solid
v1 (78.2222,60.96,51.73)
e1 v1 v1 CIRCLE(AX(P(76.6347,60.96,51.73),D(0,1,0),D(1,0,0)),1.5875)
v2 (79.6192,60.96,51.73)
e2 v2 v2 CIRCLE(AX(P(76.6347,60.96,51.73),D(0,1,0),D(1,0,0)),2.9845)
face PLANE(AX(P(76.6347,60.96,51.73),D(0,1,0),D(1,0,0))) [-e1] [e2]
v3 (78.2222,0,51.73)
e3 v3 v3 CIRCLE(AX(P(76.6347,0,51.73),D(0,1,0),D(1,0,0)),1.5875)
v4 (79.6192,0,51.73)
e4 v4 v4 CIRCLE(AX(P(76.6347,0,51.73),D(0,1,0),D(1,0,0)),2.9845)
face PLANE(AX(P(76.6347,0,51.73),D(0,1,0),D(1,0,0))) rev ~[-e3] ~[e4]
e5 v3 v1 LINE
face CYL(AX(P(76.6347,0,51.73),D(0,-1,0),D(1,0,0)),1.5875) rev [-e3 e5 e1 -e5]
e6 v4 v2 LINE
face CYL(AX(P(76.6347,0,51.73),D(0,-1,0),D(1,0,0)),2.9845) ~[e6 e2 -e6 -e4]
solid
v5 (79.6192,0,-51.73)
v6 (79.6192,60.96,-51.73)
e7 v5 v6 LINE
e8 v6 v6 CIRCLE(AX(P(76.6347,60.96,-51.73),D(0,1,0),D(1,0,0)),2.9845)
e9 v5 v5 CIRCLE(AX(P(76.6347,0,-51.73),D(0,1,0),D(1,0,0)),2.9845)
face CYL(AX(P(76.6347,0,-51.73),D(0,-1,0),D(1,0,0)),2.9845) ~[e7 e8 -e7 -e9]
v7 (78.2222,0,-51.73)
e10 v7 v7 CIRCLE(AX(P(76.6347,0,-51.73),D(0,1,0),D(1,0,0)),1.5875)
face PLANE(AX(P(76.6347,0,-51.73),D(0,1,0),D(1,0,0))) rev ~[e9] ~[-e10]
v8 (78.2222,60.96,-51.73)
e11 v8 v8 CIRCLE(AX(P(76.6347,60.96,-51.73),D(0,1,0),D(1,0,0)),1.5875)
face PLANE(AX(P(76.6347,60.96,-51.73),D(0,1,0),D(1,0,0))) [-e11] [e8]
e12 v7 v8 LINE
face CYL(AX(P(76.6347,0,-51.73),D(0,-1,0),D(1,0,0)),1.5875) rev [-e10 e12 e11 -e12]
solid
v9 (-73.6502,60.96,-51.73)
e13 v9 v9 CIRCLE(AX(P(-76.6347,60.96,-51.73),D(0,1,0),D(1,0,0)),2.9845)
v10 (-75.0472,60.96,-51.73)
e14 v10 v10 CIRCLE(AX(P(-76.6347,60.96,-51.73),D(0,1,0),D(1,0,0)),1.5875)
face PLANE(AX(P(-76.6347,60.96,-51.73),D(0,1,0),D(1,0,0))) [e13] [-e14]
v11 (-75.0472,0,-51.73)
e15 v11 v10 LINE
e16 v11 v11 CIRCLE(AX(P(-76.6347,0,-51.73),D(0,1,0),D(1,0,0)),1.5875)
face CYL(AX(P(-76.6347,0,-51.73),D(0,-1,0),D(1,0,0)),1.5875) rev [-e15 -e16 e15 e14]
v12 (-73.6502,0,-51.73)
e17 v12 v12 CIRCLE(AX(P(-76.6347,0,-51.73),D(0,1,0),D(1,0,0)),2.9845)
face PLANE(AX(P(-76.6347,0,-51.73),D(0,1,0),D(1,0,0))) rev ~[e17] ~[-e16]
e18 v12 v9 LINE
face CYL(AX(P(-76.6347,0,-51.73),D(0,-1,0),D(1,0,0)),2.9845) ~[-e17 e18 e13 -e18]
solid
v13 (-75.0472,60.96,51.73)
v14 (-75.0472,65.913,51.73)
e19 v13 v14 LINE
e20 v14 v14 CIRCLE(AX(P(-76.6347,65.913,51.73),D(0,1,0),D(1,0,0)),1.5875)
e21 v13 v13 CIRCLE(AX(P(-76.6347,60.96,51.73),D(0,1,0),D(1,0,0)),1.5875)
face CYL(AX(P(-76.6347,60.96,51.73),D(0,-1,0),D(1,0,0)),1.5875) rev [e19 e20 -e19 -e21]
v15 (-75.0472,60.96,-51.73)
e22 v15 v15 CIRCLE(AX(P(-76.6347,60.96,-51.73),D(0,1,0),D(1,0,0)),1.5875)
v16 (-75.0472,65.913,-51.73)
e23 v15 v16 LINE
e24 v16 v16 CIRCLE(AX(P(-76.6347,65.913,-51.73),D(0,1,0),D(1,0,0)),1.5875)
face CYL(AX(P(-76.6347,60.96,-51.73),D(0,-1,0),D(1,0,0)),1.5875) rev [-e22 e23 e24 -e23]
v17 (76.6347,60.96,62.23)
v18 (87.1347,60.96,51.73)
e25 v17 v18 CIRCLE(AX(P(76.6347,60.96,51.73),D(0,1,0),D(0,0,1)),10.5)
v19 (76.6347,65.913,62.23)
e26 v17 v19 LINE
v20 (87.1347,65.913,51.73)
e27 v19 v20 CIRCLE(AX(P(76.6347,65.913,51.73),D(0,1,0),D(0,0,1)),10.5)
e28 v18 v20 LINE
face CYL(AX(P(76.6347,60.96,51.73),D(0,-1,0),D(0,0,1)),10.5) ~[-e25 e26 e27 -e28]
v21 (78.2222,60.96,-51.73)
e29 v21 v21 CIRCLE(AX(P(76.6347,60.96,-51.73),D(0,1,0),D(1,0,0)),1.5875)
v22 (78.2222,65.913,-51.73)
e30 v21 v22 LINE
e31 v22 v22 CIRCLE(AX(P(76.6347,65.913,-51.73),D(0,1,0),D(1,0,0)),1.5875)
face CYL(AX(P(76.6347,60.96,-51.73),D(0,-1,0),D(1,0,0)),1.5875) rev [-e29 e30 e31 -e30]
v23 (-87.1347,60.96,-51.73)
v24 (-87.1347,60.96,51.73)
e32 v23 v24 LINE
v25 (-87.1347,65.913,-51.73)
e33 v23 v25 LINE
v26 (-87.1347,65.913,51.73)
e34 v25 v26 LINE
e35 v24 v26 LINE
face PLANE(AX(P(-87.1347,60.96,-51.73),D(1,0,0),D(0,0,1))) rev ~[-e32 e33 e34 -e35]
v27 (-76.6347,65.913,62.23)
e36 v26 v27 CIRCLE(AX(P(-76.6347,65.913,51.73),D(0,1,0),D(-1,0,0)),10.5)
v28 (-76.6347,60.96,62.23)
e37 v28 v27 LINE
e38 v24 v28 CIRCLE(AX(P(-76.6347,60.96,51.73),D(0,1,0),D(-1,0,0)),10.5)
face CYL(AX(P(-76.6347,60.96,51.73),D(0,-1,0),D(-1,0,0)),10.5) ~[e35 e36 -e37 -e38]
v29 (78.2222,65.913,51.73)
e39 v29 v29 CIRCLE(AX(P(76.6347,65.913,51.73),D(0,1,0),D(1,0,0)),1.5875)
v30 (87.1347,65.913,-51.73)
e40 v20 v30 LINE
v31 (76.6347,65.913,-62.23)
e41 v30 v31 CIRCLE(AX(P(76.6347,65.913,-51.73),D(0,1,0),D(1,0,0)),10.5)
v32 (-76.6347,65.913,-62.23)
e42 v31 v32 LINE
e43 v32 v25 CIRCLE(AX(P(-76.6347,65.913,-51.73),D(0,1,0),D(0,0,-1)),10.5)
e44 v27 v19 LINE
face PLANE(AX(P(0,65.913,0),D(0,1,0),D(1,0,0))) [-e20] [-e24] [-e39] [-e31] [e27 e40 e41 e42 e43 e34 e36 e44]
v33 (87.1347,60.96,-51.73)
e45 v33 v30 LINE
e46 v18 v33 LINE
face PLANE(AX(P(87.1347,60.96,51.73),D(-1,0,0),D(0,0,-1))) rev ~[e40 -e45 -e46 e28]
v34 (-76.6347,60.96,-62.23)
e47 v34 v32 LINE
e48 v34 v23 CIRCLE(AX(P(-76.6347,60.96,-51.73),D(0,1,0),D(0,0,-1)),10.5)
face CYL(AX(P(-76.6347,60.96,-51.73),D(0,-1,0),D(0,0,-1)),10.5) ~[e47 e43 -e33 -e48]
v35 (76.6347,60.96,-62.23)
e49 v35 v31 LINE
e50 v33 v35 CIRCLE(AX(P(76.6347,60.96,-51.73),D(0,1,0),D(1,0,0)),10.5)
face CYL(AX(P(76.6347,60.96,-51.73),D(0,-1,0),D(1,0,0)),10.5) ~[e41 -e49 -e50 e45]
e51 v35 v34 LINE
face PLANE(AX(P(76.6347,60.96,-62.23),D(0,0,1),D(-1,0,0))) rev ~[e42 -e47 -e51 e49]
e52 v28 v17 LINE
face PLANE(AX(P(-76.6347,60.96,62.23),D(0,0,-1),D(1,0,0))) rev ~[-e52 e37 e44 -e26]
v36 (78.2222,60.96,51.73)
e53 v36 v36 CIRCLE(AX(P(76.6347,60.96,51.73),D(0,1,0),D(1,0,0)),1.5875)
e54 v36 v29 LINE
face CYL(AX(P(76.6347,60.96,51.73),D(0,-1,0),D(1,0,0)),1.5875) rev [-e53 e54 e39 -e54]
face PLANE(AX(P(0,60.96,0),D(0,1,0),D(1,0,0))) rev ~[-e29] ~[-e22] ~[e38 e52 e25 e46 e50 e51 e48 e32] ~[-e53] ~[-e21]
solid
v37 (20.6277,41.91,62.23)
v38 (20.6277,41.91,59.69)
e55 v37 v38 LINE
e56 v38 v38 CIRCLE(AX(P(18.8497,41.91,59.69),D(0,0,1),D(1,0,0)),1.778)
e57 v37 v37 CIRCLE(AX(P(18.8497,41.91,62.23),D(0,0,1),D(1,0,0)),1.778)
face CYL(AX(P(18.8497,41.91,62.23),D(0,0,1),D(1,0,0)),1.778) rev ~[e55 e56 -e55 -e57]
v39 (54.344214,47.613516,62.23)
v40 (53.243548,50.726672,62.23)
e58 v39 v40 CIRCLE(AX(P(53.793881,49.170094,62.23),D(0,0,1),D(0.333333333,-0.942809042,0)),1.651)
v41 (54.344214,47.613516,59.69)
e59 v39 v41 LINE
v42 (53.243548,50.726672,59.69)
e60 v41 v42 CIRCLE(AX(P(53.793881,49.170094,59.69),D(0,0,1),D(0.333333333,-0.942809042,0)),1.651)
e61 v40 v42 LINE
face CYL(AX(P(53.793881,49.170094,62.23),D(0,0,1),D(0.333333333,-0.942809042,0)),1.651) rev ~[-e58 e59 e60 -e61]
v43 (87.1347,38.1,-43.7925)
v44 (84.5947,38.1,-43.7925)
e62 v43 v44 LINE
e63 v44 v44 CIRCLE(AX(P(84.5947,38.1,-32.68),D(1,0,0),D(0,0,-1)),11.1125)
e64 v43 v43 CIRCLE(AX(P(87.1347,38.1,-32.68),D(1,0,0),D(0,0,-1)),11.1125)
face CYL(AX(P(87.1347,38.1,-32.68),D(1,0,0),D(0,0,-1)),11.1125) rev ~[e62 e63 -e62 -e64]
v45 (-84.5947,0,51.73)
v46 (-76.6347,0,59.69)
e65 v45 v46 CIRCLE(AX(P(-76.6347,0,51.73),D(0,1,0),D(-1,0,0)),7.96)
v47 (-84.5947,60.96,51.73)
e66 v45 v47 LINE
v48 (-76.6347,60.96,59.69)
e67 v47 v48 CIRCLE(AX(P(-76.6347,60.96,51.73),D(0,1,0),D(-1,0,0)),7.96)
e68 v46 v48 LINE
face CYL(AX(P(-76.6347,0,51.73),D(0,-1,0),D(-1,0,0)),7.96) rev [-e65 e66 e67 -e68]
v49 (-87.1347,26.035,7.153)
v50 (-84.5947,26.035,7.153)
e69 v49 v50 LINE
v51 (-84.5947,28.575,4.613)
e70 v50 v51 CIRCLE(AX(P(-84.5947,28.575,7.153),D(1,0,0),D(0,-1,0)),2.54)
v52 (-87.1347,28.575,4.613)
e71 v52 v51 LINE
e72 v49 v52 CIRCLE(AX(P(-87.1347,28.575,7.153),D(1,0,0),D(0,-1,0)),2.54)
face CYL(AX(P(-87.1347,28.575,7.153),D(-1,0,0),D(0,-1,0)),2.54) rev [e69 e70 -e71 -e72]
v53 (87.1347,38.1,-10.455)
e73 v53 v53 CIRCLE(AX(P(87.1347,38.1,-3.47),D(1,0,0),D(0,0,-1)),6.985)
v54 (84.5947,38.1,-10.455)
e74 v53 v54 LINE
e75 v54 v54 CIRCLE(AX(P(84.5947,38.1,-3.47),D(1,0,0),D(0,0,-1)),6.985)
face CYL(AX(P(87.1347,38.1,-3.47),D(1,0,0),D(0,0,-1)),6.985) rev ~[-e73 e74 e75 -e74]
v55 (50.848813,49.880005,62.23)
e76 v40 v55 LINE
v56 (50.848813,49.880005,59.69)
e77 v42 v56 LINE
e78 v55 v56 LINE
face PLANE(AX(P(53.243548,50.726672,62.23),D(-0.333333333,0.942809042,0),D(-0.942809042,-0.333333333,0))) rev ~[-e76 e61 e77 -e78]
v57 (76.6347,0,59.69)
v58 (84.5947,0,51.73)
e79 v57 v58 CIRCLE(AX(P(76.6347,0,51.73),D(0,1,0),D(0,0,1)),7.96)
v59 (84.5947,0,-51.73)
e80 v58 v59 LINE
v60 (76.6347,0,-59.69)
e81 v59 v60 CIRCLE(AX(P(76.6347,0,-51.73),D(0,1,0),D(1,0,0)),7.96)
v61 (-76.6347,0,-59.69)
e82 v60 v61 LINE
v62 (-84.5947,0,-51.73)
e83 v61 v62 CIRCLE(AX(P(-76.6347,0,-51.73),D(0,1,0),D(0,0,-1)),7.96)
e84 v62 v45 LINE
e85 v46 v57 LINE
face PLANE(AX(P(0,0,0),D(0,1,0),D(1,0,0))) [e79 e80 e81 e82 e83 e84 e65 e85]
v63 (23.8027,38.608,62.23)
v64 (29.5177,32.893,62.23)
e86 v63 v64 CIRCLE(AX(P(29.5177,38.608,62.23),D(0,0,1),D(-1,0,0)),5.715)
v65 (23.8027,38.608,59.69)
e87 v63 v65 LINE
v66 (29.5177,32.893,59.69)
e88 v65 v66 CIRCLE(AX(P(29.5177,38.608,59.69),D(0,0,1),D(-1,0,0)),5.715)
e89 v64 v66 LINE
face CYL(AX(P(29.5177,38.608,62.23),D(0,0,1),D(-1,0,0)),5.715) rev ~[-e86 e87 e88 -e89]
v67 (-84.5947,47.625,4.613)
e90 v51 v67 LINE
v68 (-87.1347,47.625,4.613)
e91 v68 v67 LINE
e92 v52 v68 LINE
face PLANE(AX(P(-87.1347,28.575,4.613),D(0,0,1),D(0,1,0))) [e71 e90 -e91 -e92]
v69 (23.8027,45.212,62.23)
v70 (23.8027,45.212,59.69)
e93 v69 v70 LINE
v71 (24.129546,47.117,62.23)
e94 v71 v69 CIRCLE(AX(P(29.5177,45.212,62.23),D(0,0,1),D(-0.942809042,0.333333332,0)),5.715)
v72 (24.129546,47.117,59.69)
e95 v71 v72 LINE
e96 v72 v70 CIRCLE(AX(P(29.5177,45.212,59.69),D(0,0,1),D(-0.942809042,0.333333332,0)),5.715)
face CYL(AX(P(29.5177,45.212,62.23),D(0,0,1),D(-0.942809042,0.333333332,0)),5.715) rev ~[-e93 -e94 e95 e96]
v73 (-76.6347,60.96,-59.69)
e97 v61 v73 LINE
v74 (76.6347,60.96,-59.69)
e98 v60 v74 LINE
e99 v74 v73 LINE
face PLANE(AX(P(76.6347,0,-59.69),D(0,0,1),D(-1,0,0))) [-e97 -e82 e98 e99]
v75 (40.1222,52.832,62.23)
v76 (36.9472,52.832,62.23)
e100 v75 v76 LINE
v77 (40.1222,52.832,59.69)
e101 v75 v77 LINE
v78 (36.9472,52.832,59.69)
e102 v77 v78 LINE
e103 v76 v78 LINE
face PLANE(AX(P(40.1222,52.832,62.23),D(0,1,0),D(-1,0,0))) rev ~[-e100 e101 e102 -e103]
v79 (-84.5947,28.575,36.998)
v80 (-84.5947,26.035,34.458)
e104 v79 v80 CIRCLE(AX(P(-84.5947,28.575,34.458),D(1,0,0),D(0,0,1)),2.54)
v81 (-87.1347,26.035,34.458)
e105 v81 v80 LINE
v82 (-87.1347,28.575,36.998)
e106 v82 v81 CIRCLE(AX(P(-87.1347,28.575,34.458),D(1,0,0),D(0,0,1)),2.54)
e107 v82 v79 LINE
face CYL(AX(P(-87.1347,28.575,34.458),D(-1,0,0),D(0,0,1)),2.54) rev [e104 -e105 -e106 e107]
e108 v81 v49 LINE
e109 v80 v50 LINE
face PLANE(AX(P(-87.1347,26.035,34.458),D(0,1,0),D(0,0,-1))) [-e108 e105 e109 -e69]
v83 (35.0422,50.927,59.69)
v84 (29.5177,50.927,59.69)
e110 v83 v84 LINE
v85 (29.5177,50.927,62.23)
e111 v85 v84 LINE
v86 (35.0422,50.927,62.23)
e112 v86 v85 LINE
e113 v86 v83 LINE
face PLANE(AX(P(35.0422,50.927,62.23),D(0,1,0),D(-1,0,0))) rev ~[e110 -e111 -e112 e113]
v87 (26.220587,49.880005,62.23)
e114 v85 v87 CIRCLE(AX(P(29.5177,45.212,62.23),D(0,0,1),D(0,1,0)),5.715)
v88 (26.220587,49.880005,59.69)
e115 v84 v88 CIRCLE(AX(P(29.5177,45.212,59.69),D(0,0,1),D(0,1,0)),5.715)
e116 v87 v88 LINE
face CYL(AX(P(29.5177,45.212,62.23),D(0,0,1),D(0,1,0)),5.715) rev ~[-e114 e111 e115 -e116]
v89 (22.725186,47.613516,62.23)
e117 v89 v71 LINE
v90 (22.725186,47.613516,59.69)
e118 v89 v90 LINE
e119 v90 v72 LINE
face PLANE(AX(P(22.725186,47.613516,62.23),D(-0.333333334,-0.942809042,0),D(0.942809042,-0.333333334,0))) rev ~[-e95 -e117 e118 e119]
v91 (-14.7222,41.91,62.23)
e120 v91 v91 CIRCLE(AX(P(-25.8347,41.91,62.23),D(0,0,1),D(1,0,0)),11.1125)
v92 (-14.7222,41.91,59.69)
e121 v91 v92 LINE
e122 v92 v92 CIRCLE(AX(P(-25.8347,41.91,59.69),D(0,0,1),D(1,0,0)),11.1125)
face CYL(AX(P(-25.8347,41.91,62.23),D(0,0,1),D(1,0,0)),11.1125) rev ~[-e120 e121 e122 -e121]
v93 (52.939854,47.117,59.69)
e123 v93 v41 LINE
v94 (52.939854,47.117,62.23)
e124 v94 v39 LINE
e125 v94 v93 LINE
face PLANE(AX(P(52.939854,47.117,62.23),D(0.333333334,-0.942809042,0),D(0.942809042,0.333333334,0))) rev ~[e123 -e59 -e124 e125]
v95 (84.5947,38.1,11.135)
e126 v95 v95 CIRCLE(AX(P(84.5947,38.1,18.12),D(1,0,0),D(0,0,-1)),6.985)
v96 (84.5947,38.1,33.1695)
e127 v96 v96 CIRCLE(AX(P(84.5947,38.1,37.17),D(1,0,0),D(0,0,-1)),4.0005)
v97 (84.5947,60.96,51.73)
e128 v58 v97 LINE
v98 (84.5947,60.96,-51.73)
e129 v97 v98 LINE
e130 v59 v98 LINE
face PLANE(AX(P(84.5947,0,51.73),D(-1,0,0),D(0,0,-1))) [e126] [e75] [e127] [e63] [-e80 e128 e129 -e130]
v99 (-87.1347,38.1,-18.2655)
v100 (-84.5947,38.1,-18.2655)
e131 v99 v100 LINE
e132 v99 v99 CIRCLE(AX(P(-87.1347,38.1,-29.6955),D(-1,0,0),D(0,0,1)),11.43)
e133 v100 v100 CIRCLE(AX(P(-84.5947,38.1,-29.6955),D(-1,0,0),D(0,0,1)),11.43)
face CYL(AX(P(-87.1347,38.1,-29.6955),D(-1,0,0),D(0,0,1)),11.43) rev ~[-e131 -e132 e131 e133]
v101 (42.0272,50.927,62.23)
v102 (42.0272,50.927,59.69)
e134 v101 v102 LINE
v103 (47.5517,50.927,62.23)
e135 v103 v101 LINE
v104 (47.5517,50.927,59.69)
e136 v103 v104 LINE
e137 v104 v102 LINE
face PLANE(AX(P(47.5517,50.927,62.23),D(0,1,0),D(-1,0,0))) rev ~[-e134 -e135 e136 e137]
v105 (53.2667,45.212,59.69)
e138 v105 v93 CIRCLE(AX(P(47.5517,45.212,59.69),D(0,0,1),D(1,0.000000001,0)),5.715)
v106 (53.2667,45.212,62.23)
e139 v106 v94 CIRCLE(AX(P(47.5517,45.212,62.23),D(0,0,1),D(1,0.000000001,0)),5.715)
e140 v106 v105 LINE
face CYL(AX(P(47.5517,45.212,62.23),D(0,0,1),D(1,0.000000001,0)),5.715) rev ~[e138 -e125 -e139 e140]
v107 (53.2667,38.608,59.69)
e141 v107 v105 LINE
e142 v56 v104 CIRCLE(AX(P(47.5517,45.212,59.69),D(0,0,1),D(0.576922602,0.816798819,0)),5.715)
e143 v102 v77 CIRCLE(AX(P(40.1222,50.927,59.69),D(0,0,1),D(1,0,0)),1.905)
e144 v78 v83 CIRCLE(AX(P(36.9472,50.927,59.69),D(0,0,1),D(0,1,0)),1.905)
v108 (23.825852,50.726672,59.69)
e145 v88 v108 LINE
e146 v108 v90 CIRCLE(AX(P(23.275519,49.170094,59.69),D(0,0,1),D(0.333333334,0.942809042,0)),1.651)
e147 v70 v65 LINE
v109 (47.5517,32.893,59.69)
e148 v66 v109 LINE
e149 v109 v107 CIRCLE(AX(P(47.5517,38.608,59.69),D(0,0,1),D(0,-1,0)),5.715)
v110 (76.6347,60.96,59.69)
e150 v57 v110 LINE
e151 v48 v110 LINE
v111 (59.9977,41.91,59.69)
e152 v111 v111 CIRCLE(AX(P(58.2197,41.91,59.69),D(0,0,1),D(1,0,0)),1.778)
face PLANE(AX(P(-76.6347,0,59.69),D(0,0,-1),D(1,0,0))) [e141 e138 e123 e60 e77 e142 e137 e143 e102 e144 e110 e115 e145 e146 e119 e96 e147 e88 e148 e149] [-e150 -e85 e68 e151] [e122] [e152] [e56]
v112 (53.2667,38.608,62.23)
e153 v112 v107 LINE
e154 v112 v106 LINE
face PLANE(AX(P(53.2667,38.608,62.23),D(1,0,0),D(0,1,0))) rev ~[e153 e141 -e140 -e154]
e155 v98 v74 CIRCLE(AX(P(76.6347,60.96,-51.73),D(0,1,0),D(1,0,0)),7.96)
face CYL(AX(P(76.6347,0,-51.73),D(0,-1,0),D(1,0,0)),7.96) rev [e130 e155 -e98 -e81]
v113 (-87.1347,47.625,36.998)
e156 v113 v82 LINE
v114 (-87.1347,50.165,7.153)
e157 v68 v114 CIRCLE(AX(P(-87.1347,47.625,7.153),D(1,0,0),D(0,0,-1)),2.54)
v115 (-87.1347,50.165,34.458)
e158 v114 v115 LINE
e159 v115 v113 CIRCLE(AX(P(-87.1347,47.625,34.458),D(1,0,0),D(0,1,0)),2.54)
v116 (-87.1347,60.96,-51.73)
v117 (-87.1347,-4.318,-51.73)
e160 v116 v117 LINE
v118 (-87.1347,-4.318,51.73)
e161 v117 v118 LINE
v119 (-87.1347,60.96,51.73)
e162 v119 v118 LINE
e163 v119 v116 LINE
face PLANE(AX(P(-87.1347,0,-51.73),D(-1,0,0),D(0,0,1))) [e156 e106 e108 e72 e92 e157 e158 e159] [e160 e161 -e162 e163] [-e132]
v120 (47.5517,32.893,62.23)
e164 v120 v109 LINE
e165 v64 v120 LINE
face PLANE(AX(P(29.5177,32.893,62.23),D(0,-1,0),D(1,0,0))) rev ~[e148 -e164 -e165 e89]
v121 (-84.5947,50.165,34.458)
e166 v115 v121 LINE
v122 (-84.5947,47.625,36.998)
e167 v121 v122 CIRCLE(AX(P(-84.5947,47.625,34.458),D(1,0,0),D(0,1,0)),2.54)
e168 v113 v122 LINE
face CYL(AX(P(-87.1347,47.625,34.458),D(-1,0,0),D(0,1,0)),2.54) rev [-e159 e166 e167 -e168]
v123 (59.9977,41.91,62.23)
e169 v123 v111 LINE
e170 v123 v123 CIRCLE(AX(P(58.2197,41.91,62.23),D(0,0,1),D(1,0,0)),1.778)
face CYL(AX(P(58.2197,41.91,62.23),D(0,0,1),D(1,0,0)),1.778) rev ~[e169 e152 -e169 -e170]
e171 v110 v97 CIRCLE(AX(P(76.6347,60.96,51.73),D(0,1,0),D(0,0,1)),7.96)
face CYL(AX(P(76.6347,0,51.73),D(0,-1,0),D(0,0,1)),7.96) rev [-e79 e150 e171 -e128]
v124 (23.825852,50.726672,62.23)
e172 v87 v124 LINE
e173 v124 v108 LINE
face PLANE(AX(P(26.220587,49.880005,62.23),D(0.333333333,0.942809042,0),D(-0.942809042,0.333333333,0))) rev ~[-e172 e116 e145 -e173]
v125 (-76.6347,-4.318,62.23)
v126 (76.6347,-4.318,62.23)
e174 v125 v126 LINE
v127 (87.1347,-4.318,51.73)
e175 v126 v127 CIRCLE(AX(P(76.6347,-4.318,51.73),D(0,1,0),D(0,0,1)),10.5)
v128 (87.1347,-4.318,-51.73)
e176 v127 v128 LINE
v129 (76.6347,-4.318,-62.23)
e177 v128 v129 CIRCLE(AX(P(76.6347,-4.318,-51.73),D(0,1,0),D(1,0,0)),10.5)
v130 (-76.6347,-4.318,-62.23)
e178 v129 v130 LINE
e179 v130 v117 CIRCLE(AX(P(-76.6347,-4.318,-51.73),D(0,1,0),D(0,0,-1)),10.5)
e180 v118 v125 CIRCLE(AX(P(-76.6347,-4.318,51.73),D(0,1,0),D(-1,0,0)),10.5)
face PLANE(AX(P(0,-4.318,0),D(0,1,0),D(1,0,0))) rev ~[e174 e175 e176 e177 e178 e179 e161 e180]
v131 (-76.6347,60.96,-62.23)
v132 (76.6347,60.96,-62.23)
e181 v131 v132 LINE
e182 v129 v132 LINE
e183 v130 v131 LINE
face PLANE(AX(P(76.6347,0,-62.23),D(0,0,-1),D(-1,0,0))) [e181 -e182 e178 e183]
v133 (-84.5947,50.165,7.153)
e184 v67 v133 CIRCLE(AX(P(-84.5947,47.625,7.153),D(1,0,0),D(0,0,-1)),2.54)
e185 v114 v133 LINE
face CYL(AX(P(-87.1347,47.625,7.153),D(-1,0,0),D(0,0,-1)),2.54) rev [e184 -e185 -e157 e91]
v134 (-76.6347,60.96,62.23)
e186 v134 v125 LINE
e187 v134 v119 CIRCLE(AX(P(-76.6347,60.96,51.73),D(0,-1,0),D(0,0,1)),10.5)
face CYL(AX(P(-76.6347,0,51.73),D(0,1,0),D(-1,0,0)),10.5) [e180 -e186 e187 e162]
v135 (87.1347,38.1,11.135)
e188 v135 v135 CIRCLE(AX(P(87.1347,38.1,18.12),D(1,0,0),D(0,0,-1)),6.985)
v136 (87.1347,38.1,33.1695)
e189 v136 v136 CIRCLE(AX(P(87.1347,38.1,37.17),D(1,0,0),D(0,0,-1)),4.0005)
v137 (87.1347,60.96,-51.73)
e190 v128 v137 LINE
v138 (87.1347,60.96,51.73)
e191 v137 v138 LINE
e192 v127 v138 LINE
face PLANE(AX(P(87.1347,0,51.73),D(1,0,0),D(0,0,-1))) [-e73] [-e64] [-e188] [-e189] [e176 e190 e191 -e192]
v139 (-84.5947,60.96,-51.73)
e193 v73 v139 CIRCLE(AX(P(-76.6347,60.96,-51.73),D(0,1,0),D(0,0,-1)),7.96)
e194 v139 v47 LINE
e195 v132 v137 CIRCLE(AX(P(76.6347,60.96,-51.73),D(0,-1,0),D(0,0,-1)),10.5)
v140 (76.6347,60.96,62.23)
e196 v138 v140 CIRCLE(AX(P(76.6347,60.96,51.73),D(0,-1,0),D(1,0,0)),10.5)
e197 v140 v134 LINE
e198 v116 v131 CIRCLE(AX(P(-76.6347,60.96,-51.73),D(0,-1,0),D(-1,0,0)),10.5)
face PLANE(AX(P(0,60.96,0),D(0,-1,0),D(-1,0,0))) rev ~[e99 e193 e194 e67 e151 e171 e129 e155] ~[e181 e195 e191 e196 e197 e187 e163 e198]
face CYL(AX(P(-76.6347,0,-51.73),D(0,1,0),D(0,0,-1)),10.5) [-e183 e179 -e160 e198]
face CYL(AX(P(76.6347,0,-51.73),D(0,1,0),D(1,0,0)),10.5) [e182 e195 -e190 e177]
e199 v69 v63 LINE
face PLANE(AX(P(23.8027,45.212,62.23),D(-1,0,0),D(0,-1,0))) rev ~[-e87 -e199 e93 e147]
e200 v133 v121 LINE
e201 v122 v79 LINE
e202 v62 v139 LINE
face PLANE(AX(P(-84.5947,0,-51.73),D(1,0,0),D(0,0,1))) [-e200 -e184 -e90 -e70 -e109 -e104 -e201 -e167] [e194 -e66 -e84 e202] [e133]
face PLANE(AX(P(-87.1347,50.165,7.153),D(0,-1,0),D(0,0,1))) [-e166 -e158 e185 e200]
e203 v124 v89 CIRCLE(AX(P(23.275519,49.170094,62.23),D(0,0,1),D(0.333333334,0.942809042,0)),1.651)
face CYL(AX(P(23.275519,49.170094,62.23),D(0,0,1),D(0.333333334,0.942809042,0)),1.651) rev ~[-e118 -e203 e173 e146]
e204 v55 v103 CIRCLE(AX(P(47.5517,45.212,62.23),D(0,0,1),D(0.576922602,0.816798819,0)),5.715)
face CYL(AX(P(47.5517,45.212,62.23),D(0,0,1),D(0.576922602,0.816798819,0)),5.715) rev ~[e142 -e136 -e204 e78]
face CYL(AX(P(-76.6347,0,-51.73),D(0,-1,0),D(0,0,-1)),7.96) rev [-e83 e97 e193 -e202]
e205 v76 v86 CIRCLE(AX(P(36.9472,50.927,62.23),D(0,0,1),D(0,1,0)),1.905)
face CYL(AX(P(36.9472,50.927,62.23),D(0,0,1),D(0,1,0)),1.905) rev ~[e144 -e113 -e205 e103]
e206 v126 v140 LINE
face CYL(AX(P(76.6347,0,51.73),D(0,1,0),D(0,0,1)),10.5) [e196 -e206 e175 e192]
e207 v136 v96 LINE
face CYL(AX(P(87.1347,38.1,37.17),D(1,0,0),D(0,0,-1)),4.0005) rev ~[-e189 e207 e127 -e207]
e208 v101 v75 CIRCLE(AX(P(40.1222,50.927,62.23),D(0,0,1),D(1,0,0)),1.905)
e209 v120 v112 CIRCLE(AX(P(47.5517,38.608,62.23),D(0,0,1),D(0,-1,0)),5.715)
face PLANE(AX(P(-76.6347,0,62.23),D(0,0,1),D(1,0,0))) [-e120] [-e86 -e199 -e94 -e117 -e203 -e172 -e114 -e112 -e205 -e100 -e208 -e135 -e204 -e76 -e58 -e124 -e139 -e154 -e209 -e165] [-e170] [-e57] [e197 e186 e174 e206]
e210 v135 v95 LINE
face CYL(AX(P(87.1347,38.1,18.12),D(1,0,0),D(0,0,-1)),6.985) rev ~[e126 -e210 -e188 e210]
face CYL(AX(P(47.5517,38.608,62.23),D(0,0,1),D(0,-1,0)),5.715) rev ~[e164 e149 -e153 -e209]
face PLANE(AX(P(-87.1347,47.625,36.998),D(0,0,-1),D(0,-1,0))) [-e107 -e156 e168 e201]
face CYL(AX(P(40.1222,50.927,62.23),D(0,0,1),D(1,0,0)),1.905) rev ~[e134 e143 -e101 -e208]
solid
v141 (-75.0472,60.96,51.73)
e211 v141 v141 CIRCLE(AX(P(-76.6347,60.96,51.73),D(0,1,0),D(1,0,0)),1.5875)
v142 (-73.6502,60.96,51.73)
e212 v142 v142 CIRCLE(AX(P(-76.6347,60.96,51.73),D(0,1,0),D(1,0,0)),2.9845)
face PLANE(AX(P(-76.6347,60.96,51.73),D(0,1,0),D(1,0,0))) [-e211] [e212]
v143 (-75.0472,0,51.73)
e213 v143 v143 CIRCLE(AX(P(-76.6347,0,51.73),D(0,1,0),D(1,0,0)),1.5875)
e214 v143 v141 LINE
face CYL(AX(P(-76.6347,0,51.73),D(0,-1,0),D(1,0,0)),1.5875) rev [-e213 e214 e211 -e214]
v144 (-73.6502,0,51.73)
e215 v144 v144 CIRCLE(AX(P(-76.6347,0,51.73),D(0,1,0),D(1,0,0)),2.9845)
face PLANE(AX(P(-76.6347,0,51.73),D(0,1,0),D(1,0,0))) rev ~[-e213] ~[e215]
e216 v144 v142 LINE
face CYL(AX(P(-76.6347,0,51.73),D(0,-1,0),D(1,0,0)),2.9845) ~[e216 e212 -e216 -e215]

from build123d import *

# Parameters (mm, degrees)
SIDES_DEPTH           = 60.96
SKETCH1_R             = 2.9845
SKETCH1_R_2           = 1.5875
SIDES_2_DEPTH         = 60.96
SIDES_3_DEPTH         = 60.96
SIDES_4_DEPTH         = 60.96
SIDES_5_DEPTH         = 60.96
BOTTOM_DEPTH          = 4.318
SKETCH3_R             = 1.5875
LID_DEPTH             = 4.953
SKETCH4_R             = 11.43
POWER_CUTS_DEPTH      = 2.54
SKETCH5_R             = 11.1125
SKETCH5_R_2           = 1.778
ACCUMULATOR_CUT_DEPTH = 2.54
SKETCH6_R             = 4.0005
SKETCH6_R_2           = 6.985
SKETCH6_R_3           = 11.1125
PANEL_CUTS_DEPTH      = 2.54


with BuildPart() as part:
    # Sketch1 → Sides (new body)
    with BuildSketch(Plane(origin=(0, 0, 0), x_dir=(1, 0, 0), z_dir=(0, 1, 0))):
        with BuildLine():
            Line((-76.6347, 62.23), (76.6347, 62.23))
            ThreePointArc((76.6347, 62.23), (84.059321202, 59.154621202), (87.1347, 51.73))
            Line((87.1347, 51.73), (87.1347, -51.73))
            ThreePointArc((87.1347, -51.73), (84.059321202, -59.154621202), (76.6347, -62.23))
            Line((76.6347, -62.23), (-76.6347, -62.23))
            ThreePointArc((-76.6347, -62.23), (-84.059321202, -59.154621202), (-87.1347, -51.73))
            Line((-87.1347, -51.73), (-87.1347, 51.73))
            ThreePointArc((-87.1347, 51.73), (-84.059321202, 59.154621202), (-76.6347, 62.23))
        make_face()
        with BuildLine():
            ThreePointArc((-76.6347, 59.69), (-82.263269978, 57.358569978), (-84.5947, 51.73))
            Line((-84.5947, 51.73), (-84.5947, -51.73))
            ThreePointArc((-84.5947, -51.73), (-82.263269978, -57.358569978), (-76.6347, -59.69))
            Line((-76.6347, -59.69), (76.6347, -59.69))
            ThreePointArc((76.6347, -59.69), (82.263269978, -57.358569978), (84.5947, -51.73))
            Line((84.5947, -51.73), (84.5947, 51.73))
            ThreePointArc((84.5947, 51.73), (82.263269978, 57.358569978), (76.6347, 59.69))
            Line((76.6347, 59.69), (-76.6347, 59.69))
        make_face(mode=Mode.SUBTRACT)
    extrude(amount=SIDES_DEPTH)

    # Sketch2 → Bottom (add)
    with BuildSketch(Plane(origin=(0, 0, 0), x_dir=(1, 0, 0), z_dir=(0, 1, 0))):
        with BuildLine():
            Line((-76.6347, -62.23), (76.6347, -62.23))
            ThreePointArc((76.6347, -62.23), (84.059321202, -59.154621202), (87.1347, -51.73))
            Line((87.1347, -51.73), (87.1347, 51.73))
            ThreePointArc((87.1347, 51.73), (84.059321202, 59.154621202), (76.6347, 62.23))
            Line((76.6347, 62.23), (-76.6347, 62.23))
            ThreePointArc((-76.6347, 62.23), (-84.059321202, 59.154621202), (-87.1347, 51.73))
            Line((-87.1347, 51.73), (-87.1347, -51.73))
            ThreePointArc((-87.1347, -51.73), (-84.059321202, -59.154621202), (-76.6347, -62.23))
        make_face()
    extrude(amount=-BOTTOM_DEPTH)

    # Sketch4 → Power Cuts (cut)
    with BuildSketch(Plane.ZY.offset(87.1347)):
        with Locations((-29.6955, 38.1)):
            Circle(SKETCH4_R)
        with BuildLine():
            Line((7.153, 50.165), (34.458, 50.165))
            ThreePointArc((34.458, 50.165), (36.254051224, 49.421051224), (36.998, 47.625))
            Line((36.998, 47.625), (36.998, 28.575))
            ThreePointArc((36.998, 28.575), (36.254051224, 26.778948776), (34.458, 26.035))
            Line((34.458, 26.035), (7.153, 26.035))
            ThreePointArc((7.153, 26.035), (5.356948776, 26.778948776), (4.613, 28.575))
            Line((4.613, 28.575), (4.613, 47.625))
            ThreePointArc((4.613, 47.625), (5.356948776, 49.421051224), (7.153, 50.165))
        make_face()
    extrude(amount=-POWER_CUTS_DEPTH, mode=Mode.SUBTRACT)

    # Sketch5 → Accumulator Cut (cut)
    with BuildSketch(Plane.XY.offset(62.23)):
        with Locations((-25.8347, 41.91)):
            Circle(SKETCH5_R)
        with Locations((18.8497, 41.91)):
            Circle(SKETCH5_R_2)
        with Locations((58.2197, 41.91)):
            Circle(SKETCH5_R_2)
        with BuildLine():
            Line((23.8027, 45.212), (23.8027, 38.608))
            ThreePointArc((23.8027, 38.608), (25.476584746, 34.566884746), (29.5177, 32.893))
            Line((29.5177, 32.893), (47.5517, 32.893))
            ThreePointArc((47.5517, 32.893), (51.592815254, 34.566884746), (53.2667, 38.608))
            Line((53.2667, 38.608), (53.2667, 45.212))
            ThreePointArc((53.2667, 45.212), (53.184395768, 46.178417808), (52.939853673, 47.117))
            Line((52.939853673, 47.117), (54.344214304, 47.613516463))
            ThreePointArc((54.344214304, 47.613516463), (55.350458699, 49.720427524), (53.243547638, 50.726671918))
            Line((53.243547638, 50.726671918), (50.848812672, 49.880005252))
            ThreePointArc((50.848812672, 49.880005252), (49.281378437, 50.658965899), (47.5517, 50.927))
            Line((47.5517, 50.927), (42.0272, 50.927))
            ThreePointArc((42.0272, 50.927), (41.469238418, 52.274038418), (40.1222, 52.832))
            Line((40.1222, 52.832), (36.9472, 52.832))
            ThreePointArc((36.9472, 52.832), (35.600161582, 52.274038418), (35.0422, 50.927))
            Line((35.0422, 50.927), (29.5177, 50.927))
            ThreePointArc((29.5177, 50.927), (27.788021563, 50.658965899), (26.220587328, 49.880005252))
            Line((26.220587328, 49.880005252), (23.825852362, 50.726671918))
            ThreePointArc((23.825852362, 50.726671918), (21.718941301, 49.720427524), (22.725185696, 47.613516463))
            Line((22.725185696, 47.613516463), (24.129546327, 47.117))
            ThreePointArc((24.129546327, 47.117), (23.885004232, 46.178417808), (23.8027, 45.212))
        make_face()
    extrude(amount=-ACCUMULATOR_CUT_DEPTH, mode=Mode.SUBTRACT)

    # Sketch6 → Panel Cuts (cut)
    with BuildSketch(Plane(origin=(87.1347, 0, 0), x_dir=(0, 0, -1), z_dir=(1, 0, 0))):
        with Locations((-37.17, 38.1)):
            Circle(SKETCH6_R)
        with Locations((-18.12, 38.1)):
            Circle(SKETCH6_R_2)
        with Locations((3.47, 38.1)):
            Circle(SKETCH6_R_2)
        with Locations((32.68, 38.1)):
            Circle(SKETCH6_R_3)
    extrude(amount=-PANEL_CUTS_DEPTH, mode=Mode.SUBTRACT)


with BuildPart() as body_2:
    # Sketch1 → Sides 2 (new body)
    with BuildSketch(Plane(origin=(0, 0, 0), x_dir=(1, 0, 0), z_dir=(0, 1, 0))):
        with Locations((-76.6347, 51.73)):
            Circle(SKETCH1_R)
        with Locations((-76.6347, 51.73)):
            Circle(SKETCH1_R_2, mode=Mode.SUBTRACT)
    extrude(amount=SIDES_2_DEPTH)


with BuildPart() as body_3:
    # Sketch1 → Sides 3 (new body)
    with BuildSketch(Plane(origin=(0, 0, 0), x_dir=(1, 0, 0), z_dir=(0, 1, 0))):
        with Locations((76.6347, 51.73)):
            Circle(SKETCH1_R)
        with Locations((76.6347, 51.73)):
            Circle(SKETCH1_R_2, mode=Mode.SUBTRACT)
    extrude(amount=SIDES_3_DEPTH)


with BuildPart() as body_4:
    # Sketch1 → Sides 4 (new body)
    with BuildSketch(Plane(origin=(0, 0, 0), x_dir=(1, 0, 0), z_dir=(0, 1, 0))):
        with Locations((76.6347, -51.73)):
            Circle(SKETCH1_R)
        with Locations((76.6347, -51.73)):
            Circle(SKETCH1_R_2, mode=Mode.SUBTRACT)
    extrude(amount=SIDES_4_DEPTH)


with BuildPart() as body_5:
    # Sketch1 → Sides 5 (new body)
    with BuildSketch(Plane(origin=(0, 0, 0), x_dir=(1, 0, 0), z_dir=(0, 1, 0))):
        with Locations((-76.6347, -51.73)):
            Circle(SKETCH1_R)
        with Locations((-76.6347, -51.73)):
            Circle(SKETCH1_R_2, mode=Mode.SUBTRACT)
    extrude(amount=SIDES_5_DEPTH)


with BuildPart() as body_6:
    # Sketch3 → Lid (new body)
    with BuildSketch(Plane(origin=(0, 60.96, 0), x_dir=(1, 0, 0), z_dir=(0, 1, 0))):
        with BuildLine():
            Line((-87.1347, 51.73), (-87.1347, -51.73))
            ThreePointArc((-87.1347, -51.73), (-84.059321202, -59.154621202), (-76.6347, -62.23))
            Line((-76.6347, -62.23), (76.6347, -62.23))
            ThreePointArc((76.6347, -62.23), (84.059321202, -59.154621202), (87.1347, -51.73))
            Line((87.1347, -51.73), (87.1347, 51.73))
            ThreePointArc((87.1347, 51.73), (84.059321202, 59.154621202), (76.6347, 62.23))
            Line((76.6347, 62.23), (-76.6347, 62.23))
            ThreePointArc((-76.6347, 62.23), (-84.059321202, 59.154621202), (-87.1347, 51.73))
        make_face()
        with Locations((76.6347, 51.73)):
            Circle(SKETCH3_R, mode=Mode.SUBTRACT)
        with Locations((76.6347, -51.73)):
            Circle(SKETCH3_R, mode=Mode.SUBTRACT)
        with Locations((-76.6347, -51.73)):
            Circle(SKETCH3_R, mode=Mode.SUBTRACT)
        with Locations((-76.6347, 51.73)):
            Circle(SKETCH3_R, mode=Mode.SUBTRACT)
    extrude(amount=LID_DEPTH)


solid = Compound([part.part, body_2.part, body_3.part, body_4.part, body_5.part, body_6.part])
